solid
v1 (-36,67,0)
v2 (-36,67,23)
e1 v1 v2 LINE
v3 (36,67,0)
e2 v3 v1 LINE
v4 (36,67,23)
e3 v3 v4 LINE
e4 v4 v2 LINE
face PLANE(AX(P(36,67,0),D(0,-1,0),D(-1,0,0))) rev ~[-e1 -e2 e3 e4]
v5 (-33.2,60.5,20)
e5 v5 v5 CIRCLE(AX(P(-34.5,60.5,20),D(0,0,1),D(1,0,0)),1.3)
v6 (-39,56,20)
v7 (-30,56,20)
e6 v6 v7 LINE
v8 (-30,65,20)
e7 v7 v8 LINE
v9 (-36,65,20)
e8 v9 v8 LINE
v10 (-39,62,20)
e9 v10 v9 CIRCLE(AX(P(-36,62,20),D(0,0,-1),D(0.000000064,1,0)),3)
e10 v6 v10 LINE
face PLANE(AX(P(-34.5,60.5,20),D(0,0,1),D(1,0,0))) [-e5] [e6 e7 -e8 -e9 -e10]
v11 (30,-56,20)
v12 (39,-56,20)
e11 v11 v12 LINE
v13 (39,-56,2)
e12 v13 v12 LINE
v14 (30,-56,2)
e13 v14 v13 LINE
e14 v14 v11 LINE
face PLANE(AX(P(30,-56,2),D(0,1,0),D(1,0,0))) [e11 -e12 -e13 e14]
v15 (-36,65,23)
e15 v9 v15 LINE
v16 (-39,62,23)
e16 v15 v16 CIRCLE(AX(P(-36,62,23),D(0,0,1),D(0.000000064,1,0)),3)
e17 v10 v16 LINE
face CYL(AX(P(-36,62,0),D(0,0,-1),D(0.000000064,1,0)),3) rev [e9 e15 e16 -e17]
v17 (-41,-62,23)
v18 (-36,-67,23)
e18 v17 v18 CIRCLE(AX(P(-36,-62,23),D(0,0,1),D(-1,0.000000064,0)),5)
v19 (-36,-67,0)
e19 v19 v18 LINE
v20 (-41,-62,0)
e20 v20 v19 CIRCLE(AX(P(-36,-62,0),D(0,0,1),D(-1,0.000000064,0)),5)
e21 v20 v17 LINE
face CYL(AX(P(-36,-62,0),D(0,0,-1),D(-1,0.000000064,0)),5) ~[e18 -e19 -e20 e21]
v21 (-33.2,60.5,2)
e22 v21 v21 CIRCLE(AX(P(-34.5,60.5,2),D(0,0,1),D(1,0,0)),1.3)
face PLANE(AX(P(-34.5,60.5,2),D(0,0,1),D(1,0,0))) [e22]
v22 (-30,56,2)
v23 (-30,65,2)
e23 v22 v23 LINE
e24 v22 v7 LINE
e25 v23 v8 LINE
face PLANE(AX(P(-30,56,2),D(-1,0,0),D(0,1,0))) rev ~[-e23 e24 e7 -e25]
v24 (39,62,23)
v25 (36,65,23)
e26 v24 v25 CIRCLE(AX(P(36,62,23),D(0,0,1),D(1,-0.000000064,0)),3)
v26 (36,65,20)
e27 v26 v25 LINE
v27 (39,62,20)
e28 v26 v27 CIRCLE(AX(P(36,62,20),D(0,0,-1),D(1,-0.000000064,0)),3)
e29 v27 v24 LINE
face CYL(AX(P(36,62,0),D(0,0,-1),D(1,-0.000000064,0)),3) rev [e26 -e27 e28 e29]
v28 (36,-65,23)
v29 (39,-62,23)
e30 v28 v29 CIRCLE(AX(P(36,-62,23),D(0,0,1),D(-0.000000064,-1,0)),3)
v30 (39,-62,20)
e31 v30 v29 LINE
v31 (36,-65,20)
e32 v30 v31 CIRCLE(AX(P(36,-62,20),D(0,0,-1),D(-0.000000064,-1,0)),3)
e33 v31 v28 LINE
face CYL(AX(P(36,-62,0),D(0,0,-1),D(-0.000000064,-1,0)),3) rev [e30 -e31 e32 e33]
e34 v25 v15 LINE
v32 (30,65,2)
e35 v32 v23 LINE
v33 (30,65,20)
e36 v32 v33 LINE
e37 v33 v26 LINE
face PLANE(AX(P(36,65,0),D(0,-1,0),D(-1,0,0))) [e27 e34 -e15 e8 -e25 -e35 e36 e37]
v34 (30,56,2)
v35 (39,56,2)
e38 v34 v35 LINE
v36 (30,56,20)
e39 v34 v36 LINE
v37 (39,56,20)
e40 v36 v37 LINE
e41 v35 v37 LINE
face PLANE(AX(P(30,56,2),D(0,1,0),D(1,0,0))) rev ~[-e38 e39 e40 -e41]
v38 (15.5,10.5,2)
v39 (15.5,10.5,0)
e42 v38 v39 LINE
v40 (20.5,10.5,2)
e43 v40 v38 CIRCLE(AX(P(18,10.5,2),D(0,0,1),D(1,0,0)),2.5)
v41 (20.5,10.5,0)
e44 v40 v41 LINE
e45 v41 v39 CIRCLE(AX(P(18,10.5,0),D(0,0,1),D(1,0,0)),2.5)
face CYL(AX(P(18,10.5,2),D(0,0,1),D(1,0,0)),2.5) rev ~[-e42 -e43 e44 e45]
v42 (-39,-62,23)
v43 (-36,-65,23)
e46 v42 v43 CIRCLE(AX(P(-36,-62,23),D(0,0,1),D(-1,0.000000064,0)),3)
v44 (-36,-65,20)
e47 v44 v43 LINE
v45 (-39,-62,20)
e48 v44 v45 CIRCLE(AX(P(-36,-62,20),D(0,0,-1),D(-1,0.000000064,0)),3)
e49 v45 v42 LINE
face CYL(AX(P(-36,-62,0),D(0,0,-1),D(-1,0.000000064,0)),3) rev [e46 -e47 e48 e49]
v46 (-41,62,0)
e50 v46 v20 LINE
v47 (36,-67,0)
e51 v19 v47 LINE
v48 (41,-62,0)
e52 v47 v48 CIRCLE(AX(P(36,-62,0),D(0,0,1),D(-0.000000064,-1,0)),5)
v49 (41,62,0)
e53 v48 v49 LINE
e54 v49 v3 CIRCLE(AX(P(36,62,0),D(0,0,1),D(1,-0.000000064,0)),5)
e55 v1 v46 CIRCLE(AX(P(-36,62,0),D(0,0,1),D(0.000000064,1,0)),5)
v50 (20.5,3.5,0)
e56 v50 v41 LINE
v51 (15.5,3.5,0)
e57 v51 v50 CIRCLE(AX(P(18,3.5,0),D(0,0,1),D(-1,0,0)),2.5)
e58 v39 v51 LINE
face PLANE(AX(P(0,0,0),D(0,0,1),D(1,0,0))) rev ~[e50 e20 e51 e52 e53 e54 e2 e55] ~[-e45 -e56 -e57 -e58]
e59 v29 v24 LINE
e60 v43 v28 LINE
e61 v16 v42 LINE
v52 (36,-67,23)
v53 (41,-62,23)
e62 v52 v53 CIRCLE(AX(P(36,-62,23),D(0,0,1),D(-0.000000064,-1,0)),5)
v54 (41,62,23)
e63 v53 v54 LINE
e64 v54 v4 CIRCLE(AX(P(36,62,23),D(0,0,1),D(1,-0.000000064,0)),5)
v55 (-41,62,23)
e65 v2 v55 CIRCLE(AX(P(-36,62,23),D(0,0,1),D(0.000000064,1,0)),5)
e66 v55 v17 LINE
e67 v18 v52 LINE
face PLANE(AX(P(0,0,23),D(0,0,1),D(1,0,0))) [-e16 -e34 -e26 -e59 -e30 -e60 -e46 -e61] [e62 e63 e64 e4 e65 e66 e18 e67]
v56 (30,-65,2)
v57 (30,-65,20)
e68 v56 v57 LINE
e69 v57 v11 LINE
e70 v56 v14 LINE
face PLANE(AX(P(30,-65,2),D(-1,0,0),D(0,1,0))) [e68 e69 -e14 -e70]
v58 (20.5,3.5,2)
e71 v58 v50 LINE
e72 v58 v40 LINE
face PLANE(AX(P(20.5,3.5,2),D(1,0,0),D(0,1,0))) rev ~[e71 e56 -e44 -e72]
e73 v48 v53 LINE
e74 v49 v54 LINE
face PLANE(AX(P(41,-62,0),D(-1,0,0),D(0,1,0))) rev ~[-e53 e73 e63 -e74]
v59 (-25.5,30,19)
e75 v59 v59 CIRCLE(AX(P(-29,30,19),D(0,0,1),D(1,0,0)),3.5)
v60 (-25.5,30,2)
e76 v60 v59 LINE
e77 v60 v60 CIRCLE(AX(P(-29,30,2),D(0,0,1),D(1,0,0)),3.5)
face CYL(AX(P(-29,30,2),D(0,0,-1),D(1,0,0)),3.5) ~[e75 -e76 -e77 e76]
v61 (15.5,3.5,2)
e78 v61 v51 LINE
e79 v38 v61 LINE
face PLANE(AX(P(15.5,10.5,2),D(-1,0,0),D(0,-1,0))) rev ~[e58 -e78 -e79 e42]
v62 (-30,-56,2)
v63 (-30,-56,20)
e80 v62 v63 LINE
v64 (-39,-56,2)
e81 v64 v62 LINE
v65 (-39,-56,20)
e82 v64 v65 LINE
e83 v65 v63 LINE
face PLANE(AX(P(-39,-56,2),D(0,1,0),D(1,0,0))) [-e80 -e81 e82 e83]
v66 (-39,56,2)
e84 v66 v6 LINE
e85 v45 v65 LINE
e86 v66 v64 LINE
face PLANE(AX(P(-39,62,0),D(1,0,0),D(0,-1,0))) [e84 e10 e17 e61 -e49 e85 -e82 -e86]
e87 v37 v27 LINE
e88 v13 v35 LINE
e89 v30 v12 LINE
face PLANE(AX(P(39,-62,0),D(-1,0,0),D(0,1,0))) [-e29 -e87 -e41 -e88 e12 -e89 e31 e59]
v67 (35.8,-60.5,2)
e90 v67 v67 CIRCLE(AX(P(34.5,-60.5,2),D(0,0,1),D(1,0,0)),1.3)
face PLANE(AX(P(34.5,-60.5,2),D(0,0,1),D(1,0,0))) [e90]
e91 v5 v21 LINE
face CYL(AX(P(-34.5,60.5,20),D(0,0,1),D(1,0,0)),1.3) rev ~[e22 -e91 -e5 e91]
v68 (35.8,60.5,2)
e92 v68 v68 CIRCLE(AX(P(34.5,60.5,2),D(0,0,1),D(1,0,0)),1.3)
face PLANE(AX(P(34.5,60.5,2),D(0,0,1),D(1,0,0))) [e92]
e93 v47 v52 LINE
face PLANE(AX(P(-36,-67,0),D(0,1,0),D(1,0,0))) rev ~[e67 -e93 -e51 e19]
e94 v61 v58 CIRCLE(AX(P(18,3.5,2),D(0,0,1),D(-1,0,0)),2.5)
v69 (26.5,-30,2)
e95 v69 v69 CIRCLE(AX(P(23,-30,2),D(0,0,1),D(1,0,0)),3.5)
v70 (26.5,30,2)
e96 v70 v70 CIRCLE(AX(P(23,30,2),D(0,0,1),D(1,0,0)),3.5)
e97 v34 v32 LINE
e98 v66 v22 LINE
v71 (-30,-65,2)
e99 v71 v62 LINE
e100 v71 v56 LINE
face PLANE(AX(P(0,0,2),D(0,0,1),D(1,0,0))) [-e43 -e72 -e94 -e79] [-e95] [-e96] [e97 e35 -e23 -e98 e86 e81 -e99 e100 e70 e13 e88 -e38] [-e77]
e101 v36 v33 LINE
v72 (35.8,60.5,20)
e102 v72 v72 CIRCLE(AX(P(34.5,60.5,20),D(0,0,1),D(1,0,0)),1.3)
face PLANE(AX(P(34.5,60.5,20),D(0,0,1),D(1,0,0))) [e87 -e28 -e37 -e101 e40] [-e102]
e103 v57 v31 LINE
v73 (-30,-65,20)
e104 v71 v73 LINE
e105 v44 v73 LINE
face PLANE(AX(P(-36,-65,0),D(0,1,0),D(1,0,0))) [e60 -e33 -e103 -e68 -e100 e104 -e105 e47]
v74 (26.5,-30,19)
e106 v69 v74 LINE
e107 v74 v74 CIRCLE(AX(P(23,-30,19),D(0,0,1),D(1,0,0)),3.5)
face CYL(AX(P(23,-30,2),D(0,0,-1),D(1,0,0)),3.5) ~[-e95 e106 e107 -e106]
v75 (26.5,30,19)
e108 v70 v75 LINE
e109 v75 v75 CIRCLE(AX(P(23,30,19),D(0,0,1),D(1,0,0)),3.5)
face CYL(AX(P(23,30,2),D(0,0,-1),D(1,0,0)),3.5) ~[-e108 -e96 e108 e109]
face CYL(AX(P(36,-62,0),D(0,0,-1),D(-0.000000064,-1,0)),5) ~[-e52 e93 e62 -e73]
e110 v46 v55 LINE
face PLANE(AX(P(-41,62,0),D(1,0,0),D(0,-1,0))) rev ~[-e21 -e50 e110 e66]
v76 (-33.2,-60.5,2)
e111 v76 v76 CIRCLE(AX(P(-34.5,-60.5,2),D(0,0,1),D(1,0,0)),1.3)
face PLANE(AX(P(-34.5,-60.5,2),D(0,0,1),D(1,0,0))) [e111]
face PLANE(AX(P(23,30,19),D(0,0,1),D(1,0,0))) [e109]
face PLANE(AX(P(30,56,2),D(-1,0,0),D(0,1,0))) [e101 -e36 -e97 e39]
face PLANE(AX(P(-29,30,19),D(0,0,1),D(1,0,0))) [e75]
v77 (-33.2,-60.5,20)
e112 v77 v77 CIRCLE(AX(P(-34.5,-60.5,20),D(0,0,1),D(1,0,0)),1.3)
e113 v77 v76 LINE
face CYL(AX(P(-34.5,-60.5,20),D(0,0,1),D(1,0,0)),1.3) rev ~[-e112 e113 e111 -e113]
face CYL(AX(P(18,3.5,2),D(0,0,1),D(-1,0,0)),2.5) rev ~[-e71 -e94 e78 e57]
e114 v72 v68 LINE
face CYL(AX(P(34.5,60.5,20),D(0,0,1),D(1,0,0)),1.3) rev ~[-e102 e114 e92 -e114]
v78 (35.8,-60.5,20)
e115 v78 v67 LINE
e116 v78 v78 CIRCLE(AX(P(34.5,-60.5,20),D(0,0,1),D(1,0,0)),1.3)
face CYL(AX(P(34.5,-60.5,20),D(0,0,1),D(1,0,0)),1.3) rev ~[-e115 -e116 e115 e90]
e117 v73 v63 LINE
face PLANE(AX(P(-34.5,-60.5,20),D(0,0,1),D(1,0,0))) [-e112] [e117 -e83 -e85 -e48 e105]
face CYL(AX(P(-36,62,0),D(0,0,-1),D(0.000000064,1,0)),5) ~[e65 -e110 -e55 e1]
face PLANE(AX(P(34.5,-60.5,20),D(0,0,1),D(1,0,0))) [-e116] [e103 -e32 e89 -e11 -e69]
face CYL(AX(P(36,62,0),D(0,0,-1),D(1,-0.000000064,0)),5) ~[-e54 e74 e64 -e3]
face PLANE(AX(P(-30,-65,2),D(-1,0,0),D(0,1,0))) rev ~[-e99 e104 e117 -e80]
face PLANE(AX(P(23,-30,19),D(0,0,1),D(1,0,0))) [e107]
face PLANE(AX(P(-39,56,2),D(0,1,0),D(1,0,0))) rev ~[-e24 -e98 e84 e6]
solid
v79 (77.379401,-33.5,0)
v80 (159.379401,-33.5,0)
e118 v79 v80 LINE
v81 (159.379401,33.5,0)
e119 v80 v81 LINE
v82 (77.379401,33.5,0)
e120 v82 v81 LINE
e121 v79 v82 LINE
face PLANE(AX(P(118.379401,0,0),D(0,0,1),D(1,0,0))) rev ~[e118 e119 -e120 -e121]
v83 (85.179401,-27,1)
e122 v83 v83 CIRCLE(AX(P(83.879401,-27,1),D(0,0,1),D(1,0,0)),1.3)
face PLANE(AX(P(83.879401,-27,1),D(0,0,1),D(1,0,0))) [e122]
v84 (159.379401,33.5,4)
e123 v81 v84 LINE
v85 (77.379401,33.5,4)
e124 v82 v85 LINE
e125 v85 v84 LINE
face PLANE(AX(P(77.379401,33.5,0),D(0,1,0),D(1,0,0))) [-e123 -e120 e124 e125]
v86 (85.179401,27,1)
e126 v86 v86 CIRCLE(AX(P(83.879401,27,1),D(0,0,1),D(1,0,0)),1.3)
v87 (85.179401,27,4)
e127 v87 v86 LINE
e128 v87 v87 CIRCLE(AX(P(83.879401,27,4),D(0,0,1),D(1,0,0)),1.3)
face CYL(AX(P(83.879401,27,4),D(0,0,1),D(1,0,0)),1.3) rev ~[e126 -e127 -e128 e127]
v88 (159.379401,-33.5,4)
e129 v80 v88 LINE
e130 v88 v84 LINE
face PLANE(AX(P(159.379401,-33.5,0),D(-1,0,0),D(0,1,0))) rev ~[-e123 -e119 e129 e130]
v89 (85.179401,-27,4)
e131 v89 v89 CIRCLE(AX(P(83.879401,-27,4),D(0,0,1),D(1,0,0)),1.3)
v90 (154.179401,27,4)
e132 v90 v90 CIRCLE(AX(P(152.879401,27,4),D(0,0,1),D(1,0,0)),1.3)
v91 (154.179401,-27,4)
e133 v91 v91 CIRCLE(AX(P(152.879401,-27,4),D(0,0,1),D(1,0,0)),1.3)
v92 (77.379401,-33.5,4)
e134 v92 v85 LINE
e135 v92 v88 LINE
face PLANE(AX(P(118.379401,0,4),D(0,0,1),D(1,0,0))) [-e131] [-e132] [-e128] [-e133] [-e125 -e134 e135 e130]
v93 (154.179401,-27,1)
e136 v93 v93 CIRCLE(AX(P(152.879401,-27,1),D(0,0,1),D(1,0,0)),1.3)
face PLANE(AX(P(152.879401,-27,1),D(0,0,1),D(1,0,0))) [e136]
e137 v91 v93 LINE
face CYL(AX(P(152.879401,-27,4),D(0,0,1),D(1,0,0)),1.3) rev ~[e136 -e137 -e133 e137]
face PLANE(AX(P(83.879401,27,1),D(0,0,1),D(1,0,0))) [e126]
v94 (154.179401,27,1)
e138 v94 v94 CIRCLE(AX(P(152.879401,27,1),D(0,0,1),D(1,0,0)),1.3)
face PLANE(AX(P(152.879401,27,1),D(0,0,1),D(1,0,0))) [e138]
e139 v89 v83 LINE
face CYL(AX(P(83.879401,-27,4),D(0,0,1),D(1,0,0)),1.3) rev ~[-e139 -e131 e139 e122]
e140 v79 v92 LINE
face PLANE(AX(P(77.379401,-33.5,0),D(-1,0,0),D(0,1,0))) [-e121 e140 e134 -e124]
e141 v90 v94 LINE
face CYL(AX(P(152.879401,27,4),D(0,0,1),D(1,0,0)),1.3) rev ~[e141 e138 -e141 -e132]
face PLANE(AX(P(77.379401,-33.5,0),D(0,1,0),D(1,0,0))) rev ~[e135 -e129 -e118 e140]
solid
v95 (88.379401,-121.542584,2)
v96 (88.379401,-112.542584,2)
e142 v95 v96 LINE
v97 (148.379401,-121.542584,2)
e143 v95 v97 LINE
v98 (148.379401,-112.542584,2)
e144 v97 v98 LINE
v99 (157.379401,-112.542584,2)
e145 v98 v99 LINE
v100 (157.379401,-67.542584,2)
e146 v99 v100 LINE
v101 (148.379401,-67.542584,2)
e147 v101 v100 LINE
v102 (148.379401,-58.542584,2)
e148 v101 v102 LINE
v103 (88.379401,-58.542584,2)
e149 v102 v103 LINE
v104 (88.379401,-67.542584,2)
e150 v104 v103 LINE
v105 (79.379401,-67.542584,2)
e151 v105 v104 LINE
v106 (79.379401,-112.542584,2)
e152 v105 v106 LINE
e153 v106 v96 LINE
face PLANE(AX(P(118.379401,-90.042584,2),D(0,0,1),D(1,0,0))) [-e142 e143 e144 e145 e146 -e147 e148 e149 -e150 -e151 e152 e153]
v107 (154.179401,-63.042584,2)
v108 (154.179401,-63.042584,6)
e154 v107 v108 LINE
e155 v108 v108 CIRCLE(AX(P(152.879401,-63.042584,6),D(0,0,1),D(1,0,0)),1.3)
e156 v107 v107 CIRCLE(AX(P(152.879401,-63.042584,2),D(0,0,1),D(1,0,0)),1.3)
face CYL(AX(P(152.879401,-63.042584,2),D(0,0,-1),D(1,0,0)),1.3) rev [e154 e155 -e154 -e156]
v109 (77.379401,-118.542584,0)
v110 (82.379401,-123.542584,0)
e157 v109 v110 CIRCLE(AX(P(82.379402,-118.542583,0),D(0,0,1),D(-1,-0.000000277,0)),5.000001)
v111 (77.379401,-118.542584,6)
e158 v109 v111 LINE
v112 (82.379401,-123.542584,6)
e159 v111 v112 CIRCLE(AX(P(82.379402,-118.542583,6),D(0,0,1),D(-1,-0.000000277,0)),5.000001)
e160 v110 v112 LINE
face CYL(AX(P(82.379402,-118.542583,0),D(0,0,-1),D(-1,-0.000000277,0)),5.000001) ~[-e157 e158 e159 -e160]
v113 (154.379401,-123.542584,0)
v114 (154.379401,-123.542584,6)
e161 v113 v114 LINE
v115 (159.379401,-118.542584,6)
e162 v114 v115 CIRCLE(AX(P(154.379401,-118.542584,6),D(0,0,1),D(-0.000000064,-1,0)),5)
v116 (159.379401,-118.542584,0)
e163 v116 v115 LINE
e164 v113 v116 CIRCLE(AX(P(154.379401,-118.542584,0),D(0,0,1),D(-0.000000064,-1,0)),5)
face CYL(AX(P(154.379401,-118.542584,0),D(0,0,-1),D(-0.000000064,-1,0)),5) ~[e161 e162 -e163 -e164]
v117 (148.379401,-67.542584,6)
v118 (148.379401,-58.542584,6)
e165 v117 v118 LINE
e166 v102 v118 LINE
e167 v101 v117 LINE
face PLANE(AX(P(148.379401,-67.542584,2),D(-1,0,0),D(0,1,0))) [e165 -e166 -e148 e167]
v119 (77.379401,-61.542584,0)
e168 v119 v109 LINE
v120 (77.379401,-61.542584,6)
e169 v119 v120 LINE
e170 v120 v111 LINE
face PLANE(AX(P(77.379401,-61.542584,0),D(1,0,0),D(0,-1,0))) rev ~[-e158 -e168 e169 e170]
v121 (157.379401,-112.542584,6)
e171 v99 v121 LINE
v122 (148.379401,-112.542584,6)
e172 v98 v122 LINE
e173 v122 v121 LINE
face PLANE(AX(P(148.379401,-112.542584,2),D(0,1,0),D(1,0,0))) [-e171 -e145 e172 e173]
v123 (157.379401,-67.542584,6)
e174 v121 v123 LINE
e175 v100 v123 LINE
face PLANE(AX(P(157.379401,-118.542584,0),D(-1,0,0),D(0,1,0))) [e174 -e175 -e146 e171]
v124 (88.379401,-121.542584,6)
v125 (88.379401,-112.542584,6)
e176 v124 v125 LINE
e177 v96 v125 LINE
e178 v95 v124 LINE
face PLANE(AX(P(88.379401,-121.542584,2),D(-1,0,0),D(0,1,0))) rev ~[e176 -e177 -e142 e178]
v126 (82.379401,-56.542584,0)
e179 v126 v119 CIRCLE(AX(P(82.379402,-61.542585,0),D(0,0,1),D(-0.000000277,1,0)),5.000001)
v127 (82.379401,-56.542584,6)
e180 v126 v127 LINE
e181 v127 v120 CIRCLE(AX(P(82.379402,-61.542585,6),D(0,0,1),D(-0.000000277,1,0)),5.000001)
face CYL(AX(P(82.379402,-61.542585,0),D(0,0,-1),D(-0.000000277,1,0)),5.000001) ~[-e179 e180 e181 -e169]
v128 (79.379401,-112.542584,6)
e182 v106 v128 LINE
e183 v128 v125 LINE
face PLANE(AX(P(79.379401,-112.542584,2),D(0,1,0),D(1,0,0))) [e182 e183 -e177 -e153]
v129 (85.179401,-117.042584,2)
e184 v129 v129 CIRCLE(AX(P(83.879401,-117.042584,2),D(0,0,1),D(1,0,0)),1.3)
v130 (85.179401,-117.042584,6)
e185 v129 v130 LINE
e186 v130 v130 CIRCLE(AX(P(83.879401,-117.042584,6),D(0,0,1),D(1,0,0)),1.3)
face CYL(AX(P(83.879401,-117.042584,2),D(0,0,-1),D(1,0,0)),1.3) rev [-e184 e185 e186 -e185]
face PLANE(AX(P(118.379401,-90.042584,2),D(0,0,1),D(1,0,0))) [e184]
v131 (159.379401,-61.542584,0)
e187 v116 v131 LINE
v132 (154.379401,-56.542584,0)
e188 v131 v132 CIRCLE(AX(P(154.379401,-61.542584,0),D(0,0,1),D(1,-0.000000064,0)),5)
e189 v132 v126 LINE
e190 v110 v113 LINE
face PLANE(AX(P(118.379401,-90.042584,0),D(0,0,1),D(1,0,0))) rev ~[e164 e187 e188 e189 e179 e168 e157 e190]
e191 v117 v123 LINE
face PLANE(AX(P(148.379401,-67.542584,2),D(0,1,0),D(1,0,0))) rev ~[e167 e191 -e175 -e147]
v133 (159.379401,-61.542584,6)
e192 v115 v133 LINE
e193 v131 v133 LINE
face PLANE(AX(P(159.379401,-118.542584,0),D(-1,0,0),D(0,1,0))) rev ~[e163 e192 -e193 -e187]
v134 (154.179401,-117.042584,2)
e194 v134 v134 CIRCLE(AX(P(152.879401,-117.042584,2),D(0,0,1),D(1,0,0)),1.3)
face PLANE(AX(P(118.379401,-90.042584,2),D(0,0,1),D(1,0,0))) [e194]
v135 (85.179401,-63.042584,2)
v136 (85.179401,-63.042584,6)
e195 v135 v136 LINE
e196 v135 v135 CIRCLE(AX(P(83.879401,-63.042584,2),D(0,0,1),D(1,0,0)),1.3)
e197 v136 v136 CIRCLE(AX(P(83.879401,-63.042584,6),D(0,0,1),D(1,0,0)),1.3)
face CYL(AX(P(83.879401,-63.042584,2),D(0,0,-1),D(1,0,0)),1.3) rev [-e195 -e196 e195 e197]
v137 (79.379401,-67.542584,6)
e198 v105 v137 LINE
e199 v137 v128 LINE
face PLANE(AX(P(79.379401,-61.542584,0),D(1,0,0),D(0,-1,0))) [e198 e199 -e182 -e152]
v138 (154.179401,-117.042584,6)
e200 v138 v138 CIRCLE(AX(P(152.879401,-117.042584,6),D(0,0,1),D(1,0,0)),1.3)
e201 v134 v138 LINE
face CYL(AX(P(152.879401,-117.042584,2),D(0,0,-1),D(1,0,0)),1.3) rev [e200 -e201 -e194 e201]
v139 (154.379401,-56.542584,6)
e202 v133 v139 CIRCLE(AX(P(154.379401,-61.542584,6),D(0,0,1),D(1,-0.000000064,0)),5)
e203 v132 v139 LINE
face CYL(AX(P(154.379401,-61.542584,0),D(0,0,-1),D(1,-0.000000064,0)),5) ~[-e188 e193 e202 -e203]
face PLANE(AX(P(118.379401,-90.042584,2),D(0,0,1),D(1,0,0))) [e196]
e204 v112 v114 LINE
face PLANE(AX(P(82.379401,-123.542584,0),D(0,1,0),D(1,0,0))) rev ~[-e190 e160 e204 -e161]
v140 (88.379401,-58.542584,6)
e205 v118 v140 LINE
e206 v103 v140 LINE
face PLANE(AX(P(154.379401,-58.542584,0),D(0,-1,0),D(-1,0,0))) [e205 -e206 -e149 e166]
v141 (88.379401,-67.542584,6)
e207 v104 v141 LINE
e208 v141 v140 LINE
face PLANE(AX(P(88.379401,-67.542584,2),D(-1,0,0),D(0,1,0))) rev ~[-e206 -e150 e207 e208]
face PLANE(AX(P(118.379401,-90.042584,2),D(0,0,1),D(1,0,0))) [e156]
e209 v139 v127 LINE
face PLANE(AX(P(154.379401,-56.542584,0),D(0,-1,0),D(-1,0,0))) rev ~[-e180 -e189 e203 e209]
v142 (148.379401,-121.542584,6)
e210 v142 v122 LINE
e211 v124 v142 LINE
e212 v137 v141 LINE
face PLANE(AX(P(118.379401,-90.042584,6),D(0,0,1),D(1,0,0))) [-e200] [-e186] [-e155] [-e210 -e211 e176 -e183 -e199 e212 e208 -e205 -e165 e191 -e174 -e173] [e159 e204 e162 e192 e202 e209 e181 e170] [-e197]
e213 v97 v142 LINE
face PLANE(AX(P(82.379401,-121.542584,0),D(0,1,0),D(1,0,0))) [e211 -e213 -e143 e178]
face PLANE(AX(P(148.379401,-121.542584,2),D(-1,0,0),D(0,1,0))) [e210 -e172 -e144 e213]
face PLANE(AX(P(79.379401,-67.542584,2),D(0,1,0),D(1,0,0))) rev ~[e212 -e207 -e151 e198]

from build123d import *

# Parameters (mm, degrees)
F1_DEPTH  = 23
F2_T      = -2
F3_W      = 9
F3_H      = 9
F4_DEPTH  = 18
F3_R      = 3.5
F5_DEPTH  = 17
F6_DEPTH  = 2
F7_R      = 1.3
F8_DEPTH  = 18
F9_W      = 82
F9_H      = 67
F10_DEPTH = 4
F11_DEPTH = 6
F12_T     = -2
F13_R     = 1.3
F14_DEPTH = 3
F15_W     = 9
F15_H     = 9
F15_R     = 1.3
F16_DEPTH = 4


with BuildPart() as f1:
    # F0 (on Top) → F1 (new body)
    with BuildSketch(Plane.XY):
        with BuildLine():
            Line((-36, -67), (36, -67))
            ThreePointArc((36, -67), (39.535534, -65.535534), (41, -62))
            Line((41, -62), (41, 62))
            ThreePointArc((41, 62), (39.535534, 65.535534), (36, 67))
            Line((36, 67), (-36, 67))
            ThreePointArc((-36, 67), (-39.535534, 65.535534), (-41, 62))
            Line((-41, 62), (-41, -62))
            ThreePointArc((-41, -62), (-39.535534, -65.535534), (-36, -67))
        make_face()
    extrude(amount=F1_DEPTH)

    # F2
    f2_openings = [f1.faces().sort_by_distance(p)[0] for p in [
        (0, 0, 23),
    ]]
    offset(amount=F2_T, openings=f2_openings)

    # F3 (on face) → F4 (join)
    with BuildSketch(Plane.XY.offset(2)):
        with Locations((-34.5, 60.5)):
            Rectangle(F3_W, F3_H)
        with Locations((34.5, 60.5)):
            Rectangle(F3_W, F3_H)
        with Locations((-34.5, -60.5)):
            Rectangle(F3_W, F3_H)
        with Locations((34.5, -60.5)):
            Rectangle(F3_W, F3_H)
    extrude(amount=F4_DEPTH)

    # F3 (on face) → F5 (join)
    with BuildSketch(Plane.XY.offset(2)):
        with Locations((-29, 30)):
            Circle(F3_R)
        with Locations((23, 30)):
            Circle(F3_R)
        with Locations((23, -30)):
            Circle(F3_R)
    extrude(amount=F5_DEPTH)

    # F3 (on face) → F6 (cut)
    with BuildSketch(Plane.XY.offset(2)):
        with BuildLine():
            ThreePointArc((15.5, 3.5), (18, 1), (20.5, 3.5))
            Line((20.5, 3.5), (20.5, 10.5))
            ThreePointArc((20.5, 10.5), (18, 13), (15.5, 10.5))
            Line((15.5, 10.5), (15.5, 3.5))
        make_face()
    extrude(amount=-F6_DEPTH, mode=Mode.SUBTRACT)

    # F7 (on face) → F8 (cut)
    with BuildSketch(Plane.XY.offset(20)):
        with Locations((-34.5, 60.5)):
            Circle(F7_R)
        with Locations((-34.5, -60.5)):
            Circle(F7_R)
        with Locations((34.5, 60.5)):
            Circle(F7_R)
        with Locations((34.5, -60.5)):
            Circle(F7_R)
    extrude(amount=-F8_DEPTH, mode=Mode.SUBTRACT)


with BuildPart() as f10:
    # F9 (on Top) → F10 (new body)
    with BuildSketch(Plane.XY):
        with Locations((118.379401, 0)):
            Rectangle(F9_W, F9_H)
    extrude(amount=F10_DEPTH)

    # F13 (on face) → F14 (cut)
    with BuildSketch(Plane.XY.offset(4)):
        with Locations((83.879401, 27)):
            Circle(F13_R)
        with Locations((152.879401, 27)):
            Circle(F13_R)
        with Locations((83.879401, -27)):
            Circle(F13_R)
        with Locations((152.879401, -27)):
            Circle(F13_R)
    extrude(amount=-F14_DEPTH, mode=Mode.SUBTRACT)


with BuildPart() as f11:
    # F9 (on Top) → F11 (new body)
    with BuildSketch(Plane.XY):
        with BuildLine():
            Line((82.379401, -123.542584), (154.379401, -123.542584))
            ThreePointArc((154.379401, -123.542584), (157.914935, -122.078118), (159.379401, -118.542584))
            Line((159.379401, -118.542584), (159.379401, -61.542584))
            ThreePointArc((159.379401, -61.542584), (157.914935, -58.00705), (154.379401, -56.542584))
            Line((154.379401, -56.542584), (82.379401, -56.542584))
            ThreePointArc((82.379401, -56.542584), (78.843868, -58.00705), (77.379401, -61.542584))
            Line((77.379401, -61.542584), (77.379401, -118.542584))
            ThreePointArc((77.379401, -118.542584), (78.843868, -122.078118), (82.379401, -123.542584))
        make_face()
    extrude(amount=F11_DEPTH)

    # F12
    f12_openings = [f11.faces().sort_by_distance(p)[0] for p in [
        (118.379401, -90.042584, 6),
    ]]
    offset(amount=F12_T, openings=f12_openings)

    # F15 (on face) → F16 (join)
    with BuildSketch(Plane.XY.offset(2)):
        with Locations((83.879401, -117.042584)):
            Rectangle(F15_W, F15_H)
        with Locations((83.879401, -117.042584)):
            Circle(F15_R, mode=Mode.SUBTRACT)
        with Locations((83.879401, -63.042584)):
            Rectangle(F15_W, F15_H)
        with Locations((83.879401, -63.042584)):
            Circle(F15_R, mode=Mode.SUBTRACT)
        with Locations((152.879401, -63.042584)):
            Rectangle(F15_W, F15_H)
        with Locations((152.879401, -63.042584)):
            Circle(F15_R, mode=Mode.SUBTRACT)
        with Locations((152.879401, -117.042584)):
            Rectangle(F15_W, F15_H)
        with Locations((152.879401, -117.042584)):
            Circle(F15_R, mode=Mode.SUBTRACT)
    extrude(amount=F16_DEPTH)


solid = Compound([f1.part, f10.part, f11.part])
